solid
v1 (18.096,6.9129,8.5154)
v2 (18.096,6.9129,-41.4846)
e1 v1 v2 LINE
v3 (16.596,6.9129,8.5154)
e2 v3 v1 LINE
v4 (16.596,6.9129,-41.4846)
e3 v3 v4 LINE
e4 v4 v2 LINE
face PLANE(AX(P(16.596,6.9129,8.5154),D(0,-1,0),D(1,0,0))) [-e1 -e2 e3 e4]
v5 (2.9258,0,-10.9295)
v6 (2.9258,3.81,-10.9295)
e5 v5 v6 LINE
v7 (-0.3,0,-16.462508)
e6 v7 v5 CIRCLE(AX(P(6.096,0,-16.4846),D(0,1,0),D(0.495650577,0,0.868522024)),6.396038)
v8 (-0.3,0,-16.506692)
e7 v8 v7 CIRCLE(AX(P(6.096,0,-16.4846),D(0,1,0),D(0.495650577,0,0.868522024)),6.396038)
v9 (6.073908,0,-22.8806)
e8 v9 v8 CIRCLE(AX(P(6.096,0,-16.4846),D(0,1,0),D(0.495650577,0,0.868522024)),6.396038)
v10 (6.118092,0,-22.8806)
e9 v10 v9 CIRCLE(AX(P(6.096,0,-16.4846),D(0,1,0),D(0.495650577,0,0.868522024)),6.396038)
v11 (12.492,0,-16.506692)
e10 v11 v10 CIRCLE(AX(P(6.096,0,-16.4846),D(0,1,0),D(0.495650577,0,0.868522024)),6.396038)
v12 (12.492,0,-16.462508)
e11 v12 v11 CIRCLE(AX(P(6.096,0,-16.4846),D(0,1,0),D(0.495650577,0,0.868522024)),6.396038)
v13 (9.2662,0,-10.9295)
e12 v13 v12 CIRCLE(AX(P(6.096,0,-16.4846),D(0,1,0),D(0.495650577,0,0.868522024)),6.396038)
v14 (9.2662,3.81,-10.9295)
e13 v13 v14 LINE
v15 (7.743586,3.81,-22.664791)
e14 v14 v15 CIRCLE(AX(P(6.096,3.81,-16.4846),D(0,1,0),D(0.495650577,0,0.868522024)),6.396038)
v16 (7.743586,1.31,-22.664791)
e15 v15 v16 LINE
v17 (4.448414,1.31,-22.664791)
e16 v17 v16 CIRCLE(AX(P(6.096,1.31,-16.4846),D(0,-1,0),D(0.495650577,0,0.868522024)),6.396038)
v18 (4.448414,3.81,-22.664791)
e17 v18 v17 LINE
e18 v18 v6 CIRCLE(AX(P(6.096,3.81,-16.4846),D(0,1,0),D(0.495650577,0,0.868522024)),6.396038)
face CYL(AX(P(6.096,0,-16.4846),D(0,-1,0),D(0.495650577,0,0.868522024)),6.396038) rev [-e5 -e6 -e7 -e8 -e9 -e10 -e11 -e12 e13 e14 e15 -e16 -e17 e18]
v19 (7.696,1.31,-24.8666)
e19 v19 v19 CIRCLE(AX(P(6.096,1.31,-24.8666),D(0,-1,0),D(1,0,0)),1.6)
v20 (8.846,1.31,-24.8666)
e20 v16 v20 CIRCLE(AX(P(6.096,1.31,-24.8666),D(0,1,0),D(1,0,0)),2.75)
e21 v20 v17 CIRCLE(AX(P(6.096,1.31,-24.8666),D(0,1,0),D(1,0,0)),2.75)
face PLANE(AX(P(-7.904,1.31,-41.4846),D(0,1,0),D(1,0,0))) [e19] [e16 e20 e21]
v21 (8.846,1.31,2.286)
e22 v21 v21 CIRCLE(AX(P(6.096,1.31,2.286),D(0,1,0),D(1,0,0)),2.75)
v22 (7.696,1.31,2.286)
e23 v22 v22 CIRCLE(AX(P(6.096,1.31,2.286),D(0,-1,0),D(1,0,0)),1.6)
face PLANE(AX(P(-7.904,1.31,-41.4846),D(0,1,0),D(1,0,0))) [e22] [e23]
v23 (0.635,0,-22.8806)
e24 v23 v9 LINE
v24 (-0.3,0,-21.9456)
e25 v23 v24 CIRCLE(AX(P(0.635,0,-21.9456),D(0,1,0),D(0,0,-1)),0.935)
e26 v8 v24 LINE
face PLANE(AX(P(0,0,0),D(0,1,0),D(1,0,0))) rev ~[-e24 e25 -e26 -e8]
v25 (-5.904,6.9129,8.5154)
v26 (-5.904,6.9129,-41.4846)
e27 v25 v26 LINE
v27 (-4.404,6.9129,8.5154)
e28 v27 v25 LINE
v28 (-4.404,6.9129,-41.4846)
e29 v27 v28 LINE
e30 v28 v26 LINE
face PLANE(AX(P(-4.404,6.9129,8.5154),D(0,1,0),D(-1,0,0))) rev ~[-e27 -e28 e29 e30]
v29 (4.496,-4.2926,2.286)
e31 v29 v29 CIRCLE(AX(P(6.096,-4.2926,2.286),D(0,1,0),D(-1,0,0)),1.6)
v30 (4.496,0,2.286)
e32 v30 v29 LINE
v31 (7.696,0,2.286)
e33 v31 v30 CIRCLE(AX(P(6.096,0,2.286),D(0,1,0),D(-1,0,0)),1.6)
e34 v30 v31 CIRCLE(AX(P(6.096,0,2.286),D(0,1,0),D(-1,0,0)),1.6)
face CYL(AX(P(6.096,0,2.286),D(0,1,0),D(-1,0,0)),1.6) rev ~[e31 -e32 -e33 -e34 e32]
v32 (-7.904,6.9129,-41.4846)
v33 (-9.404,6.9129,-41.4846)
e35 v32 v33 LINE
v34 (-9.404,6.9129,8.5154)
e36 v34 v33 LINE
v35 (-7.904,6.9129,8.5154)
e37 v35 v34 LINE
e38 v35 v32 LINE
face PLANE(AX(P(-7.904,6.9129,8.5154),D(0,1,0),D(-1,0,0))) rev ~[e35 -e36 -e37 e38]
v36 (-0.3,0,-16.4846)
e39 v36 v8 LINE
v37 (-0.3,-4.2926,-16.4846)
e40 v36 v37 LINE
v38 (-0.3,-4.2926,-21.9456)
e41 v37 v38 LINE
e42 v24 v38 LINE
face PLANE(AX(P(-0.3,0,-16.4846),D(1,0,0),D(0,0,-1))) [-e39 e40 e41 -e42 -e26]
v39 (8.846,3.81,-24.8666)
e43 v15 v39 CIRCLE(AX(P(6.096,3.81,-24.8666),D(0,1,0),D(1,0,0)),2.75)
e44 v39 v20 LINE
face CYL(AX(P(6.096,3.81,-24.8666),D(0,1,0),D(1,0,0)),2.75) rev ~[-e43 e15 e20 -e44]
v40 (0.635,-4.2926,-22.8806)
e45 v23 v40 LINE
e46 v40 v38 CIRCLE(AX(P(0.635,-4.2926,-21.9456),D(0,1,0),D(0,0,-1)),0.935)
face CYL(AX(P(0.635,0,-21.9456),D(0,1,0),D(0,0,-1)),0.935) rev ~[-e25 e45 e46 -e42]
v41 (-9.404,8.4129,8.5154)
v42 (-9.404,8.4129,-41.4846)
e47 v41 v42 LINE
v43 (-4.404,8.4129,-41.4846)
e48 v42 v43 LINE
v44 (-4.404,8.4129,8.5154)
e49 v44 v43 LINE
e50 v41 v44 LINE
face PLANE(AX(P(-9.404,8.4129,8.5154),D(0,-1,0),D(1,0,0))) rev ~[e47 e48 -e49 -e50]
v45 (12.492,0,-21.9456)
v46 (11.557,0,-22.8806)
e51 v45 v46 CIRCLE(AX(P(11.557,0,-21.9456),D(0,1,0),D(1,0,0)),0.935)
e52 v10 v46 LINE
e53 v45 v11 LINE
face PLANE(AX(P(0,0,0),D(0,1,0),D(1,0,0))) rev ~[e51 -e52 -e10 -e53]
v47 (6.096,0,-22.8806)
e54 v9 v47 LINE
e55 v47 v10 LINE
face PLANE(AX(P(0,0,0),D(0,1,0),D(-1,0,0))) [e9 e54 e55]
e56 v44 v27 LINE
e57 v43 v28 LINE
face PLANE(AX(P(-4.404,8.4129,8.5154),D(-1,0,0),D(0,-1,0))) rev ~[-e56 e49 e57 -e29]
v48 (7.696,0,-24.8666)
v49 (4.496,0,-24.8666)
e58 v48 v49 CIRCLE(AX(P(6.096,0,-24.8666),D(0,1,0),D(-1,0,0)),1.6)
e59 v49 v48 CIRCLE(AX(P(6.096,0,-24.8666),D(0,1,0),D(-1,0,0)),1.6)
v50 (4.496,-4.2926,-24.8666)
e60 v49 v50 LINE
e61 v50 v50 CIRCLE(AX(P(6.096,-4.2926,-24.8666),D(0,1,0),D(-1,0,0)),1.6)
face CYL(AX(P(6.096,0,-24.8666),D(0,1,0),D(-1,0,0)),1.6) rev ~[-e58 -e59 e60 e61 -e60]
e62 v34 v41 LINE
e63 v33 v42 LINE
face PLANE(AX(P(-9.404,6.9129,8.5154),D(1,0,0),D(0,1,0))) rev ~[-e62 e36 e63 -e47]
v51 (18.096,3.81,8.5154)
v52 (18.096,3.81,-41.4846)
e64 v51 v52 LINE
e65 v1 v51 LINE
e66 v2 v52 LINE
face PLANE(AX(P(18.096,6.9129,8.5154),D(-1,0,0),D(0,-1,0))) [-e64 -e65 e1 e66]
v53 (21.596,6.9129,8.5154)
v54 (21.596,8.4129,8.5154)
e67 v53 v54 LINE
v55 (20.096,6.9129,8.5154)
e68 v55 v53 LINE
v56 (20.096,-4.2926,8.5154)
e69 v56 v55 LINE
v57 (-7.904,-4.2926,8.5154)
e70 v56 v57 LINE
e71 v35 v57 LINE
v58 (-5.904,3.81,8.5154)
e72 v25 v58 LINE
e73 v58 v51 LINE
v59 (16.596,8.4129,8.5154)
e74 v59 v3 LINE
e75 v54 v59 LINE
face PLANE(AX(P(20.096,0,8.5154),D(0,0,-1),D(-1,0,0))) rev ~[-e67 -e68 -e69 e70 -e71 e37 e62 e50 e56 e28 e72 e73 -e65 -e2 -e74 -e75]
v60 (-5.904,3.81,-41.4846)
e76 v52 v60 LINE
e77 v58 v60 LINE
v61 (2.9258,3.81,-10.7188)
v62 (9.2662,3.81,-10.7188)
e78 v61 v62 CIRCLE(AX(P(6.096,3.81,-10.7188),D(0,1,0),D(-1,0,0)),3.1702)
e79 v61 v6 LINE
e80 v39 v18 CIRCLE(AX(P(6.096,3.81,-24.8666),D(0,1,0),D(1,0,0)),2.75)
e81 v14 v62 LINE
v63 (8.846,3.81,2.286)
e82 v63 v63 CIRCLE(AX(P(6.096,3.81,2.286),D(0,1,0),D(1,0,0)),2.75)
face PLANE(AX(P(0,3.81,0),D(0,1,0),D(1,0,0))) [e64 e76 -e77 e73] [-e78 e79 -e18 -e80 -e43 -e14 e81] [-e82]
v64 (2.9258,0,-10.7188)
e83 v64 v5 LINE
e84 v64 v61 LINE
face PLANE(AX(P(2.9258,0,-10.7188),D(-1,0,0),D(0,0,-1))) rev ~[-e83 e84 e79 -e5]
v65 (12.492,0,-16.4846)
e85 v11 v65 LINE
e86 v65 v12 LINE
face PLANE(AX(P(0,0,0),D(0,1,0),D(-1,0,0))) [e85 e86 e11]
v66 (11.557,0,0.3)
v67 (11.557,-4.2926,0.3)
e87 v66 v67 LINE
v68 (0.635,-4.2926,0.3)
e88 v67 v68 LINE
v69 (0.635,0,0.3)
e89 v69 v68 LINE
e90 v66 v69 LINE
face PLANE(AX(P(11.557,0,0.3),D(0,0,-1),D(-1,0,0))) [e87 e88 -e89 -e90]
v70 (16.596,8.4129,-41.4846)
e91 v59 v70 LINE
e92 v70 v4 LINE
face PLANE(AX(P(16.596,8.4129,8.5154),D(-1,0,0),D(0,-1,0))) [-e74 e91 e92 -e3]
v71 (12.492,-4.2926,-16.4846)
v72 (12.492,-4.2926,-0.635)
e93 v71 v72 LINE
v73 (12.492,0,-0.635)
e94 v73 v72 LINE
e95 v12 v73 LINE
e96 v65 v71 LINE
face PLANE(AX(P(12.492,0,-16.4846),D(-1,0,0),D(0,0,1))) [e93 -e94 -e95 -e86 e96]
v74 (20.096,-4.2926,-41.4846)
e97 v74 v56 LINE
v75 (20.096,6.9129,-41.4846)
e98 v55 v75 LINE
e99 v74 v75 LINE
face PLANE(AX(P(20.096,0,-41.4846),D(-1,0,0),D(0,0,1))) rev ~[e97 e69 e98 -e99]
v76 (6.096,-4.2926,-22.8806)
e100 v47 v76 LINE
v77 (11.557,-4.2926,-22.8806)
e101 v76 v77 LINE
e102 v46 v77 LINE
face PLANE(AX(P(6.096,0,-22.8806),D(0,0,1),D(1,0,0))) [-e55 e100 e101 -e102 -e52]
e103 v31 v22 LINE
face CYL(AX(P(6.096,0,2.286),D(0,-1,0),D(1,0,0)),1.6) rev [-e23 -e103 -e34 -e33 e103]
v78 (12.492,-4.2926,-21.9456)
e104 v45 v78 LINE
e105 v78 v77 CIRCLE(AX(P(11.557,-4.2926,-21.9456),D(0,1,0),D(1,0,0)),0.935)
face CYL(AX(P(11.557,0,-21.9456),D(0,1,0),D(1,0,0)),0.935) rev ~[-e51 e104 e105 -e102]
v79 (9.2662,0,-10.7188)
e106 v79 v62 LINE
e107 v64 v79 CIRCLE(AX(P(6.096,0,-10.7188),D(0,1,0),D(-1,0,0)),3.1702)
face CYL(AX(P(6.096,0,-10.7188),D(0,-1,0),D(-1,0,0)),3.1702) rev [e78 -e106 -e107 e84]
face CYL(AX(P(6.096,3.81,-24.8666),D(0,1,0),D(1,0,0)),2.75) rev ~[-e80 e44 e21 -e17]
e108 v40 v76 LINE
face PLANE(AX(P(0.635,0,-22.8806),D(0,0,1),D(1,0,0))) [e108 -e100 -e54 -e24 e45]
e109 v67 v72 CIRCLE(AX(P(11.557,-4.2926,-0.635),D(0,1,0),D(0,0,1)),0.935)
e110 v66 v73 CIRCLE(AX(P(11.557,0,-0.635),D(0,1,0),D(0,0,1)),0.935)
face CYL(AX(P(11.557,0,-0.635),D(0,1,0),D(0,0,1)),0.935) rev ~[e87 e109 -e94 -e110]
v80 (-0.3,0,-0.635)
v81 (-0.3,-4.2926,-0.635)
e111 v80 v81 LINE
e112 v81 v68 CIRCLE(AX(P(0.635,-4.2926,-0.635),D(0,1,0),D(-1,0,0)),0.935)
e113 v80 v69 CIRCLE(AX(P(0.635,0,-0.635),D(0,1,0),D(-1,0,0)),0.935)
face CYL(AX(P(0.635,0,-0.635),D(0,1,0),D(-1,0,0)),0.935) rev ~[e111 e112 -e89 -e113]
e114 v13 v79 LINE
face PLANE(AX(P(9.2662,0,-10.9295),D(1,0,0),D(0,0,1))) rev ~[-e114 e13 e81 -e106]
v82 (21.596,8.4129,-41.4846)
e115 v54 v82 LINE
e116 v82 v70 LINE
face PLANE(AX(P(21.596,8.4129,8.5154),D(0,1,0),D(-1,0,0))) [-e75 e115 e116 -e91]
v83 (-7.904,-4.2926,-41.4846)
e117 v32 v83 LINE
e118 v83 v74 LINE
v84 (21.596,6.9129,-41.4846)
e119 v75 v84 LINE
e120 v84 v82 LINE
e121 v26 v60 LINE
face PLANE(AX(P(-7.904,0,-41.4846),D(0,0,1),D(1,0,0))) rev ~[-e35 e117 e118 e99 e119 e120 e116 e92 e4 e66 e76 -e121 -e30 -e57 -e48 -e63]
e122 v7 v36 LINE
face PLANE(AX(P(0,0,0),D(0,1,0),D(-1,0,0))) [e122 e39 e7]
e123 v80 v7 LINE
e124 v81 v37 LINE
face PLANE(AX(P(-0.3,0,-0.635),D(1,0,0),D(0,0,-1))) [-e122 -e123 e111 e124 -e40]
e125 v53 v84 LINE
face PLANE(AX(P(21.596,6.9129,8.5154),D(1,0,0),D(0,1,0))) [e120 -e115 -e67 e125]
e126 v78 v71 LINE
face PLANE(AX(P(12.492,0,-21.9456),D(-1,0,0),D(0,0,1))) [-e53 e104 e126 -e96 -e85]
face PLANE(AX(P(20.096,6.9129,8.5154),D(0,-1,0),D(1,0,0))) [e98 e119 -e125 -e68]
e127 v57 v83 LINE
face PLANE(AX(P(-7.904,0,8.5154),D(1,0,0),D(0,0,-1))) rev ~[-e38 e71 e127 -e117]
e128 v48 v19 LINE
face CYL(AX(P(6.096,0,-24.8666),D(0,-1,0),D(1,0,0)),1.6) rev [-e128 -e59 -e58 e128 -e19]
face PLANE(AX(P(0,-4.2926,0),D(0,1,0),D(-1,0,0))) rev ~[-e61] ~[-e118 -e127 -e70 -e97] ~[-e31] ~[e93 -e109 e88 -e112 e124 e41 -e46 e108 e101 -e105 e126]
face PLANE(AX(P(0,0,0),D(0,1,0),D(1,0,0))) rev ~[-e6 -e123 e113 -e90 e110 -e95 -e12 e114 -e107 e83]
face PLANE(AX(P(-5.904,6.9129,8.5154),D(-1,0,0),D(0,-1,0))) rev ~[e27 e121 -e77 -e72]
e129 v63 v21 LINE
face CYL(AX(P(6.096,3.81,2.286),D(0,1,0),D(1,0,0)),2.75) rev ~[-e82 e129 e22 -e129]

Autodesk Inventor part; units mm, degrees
ref_plane "YZ Plane" through (0, 0, 0) normal (1, 0, 0) x (0, 1, 0)
sketch "草圖1" plane through (0, 0, 0) normal (0, 1, 0) x (-1, 0, 0)
  line L0 (-11.557, 4.8514) -> (-6.731, 4.8514) construction
  arc A0 (-11.557, 4.8514) -> (-12.192, 4.2164) centre (-11.557, 4.2164) ccw construction
  line L1 (-12.192, 4.2164) -> (-12.192, -0.635) construction
  arc A1 (-11.557, 0) -> (-12.192, -0.635) centre (-11.557, -0.635) ccw construction
  line L2 (-11.557, 0) -> (-0.635, 0) construction
  arc A2 (0, -0.635) -> (-0.635, 0) centre (-0.635, -0.635) ccw construction
  line L3 (0, 4.2164) -> (0, -0.635) construction
  arc A3 (0, 4.2164) -> (-0.635, 4.8514) centre (-0.635, 4.2164) ccw construction
  line L4 (-5.461, 4.8514) -> (-0.635, 4.8514) construction
  line L5 (-5.461, 4.0821) -> (-5.461, 4.8514) construction
  arc A4 (-6.731, 4.0821) -> (-5.461, 4.0821) centre (-6.096, 2.286) ccw construction
  line L6 (-6.731, 4.8514) -> (-6.731, 4.0821) construction
  line L7 (-12.192, -26.797) -> (-12.192, -21.9456) construction
  arc A5 (-12.192, -26.797) -> (-11.557, -27.432) centre (-11.557, -26.797) ccw construction
  line L8 (-11.557, -27.432) -> (-6.731, -27.432) construction
  line L9 (-6.731, -27.432) -> (-6.731, -26.6627) construction
  arc A6 (-5.461, -26.6627) -> (-6.731, -26.6627) centre (-6.096, -24.8666) ccw construction
  line L10 (-5.461, -26.6627) -> (-5.461, -27.432) construction
  line L11 (-5.461, -27.432) -> (-0.635, -27.432) construction
  arc A7 (-0.635, -27.432) -> (0, -26.797) centre (-0.635, -26.797) ccw construction
  line L12 (0, -26.797) -> (0, -21.9456) construction
  arc A8 (-0.635, -22.5806) -> (0, -21.9456) centre (-0.635, -21.9456) ccw construction
  line L13 (-11.557, -22.5806) -> (-0.635, -22.5806) construction
  arc A9 (-12.192, -21.9456) -> (-11.557, -22.5806) centre (-11.557, -21.9456) ccw construction
  line L14 (-20.096, 8.5154) -> (7.904, 8.5154)
  line L15 (7.904, 8.5154) -> (7.904, -41.4846)
  line L16 (7.904, -41.4846) -> (-20.096, -41.4846)
  line L17 (-20.096, -41.4846) -> (-20.096, 8.5154)
  line L18 (-20.096, 8.5154) -> (7.904, -41.4846) construction
  line L19 (7.904, 8.5154) -> (-20.096, -41.4846) construction
  arc A10 (-3.2258, -10.7188) -> (-8.9662, -10.7188) centre (-6.096, -10.7188) ccw construction
  line L20 (-8.9662, -10.7188) -> (-8.9662, -11.1066) construction
  arc A11 (-8.9662, -11.1066) -> (-3.2258, -11.1066) centre (-6.096, -16.4846) ccw construction
  line L21 (-3.2258, -11.1066) -> (-3.2258, -10.7188) construction
  arc A12 (-7.0699, -18.6923) -> (-7.0447, -18.7033) centre (-6.096, -16.4846) ccw construction
  spline S0 degree 3 poles (-7.0947, -18.3987) (-7.1625, -18.5159) (-7.1542, -18.6137) (-7.0699, -18.6923) knots 0.499854 0.499854 0.499854 0.499854 0.500096 0.500096 0.500096 0.500096 construction
  arc A13 (-7.336, -18.252) -> (-7.0947, -18.3987) centre (-6.096, -16.4846) ccw construction
  spline S1 degree 3 poles (-7.6081, -18.365) (-7.4996, -18.4037) (-7.4089, -18.3661) (-7.336, -18.252) knots 0.499904 0.499904 0.499904 0.499904 0.500146 0.500146 0.500146 0.500146 construction
  arc A14 (-7.6294, -18.3477) -> (-7.6081, -18.365) centre (-6.096, -16.4846) ccw construction
  spline S2 degree 3 poles (-7.5741, -18.0583) (-7.671, -18.1528) (-7.6894, -18.2493) (-7.6294, -18.3477) knots 0.499854 0.499854 0.499854 0.499854 0.500096 0.500096 0.500096 0.500096 construction
  arc A15 (-7.7669, -17.8519) -> (-7.5741, -18.0583) centre (-6.096, -16.4846) ccw construction
  spline S3 degree 3 poles (-8.0594, -17.8873) (-7.9653, -17.9539) (-7.8678, -17.9421) (-7.7669, -17.8519) knots 0.499904 0.499904 0.499904 0.499904 0.500146 0.500146 0.500146 0.500146 construction
  arc A16 (-8.0752, -17.8649) -> (-8.0594, -17.8873) centre (-6.096, -16.4846) ccw construction
  spline S4 degree 3 poles (-7.9439, -17.6011) (-8.0627, -17.666) (-8.1064, -17.7539) (-8.0752, -17.8649) knots 0.499854 0.499854 0.499854 0.499854 0.500096 0.500096 0.500096 0.500096 construction
  arc A17 (-8.0738, -17.3504) -> (-7.9439, -17.6011) centre (-6.096, -16.4846) ccw construction
  spline S5 degree 3 poles (-8.365, -17.3056) (-8.2924, -17.3951) (-8.1953, -17.41) (-8.0738, -17.3504) knots 0.499904 0.499904 0.499904 0.499904 0.500146 0.500146 0.500146 0.500146 construction
  arc A18 (-8.3742, -17.2797) -> (-8.365, -17.3056) centre (-6.096, -16.4846) ccw construction
  spline S6 degree 3 poles (-8.1766, -17.0612) (-8.3085, -17.0916) (-8.3744, -17.1644) (-8.3742, -17.2797) knots 0.499854 0.499854 0.499854 0.499854 0.500096 0.500096 0.500096 0.500096 construction
  arc A19 (-8.234, -16.7847) -> (-8.1766, -17.0612) centre (-6.096, -16.4846) ccw construction
  spline S7 degree 3 poles (-8.5024, -16.663) (-8.4566, -16.7687) (-8.3671, -16.8093) (-8.234, -16.7847) knots 0.499904 0.499904 0.499904 0.499904 0.500146 0.500146 0.500146 0.500146 construction
  arc A20 (-8.5043, -16.6356) -> (-8.5024, -16.663) centre (-6.096, -16.4846) ccw construction
  spline S8 degree 3 poles (-8.255, -16.4785) (-8.3902, -16.4722) (-8.4733, -16.5245) (-8.5043, -16.6356) knots 0.499854 0.499854 0.499854 0.499854 0.500096 0.500096 0.500096 0.500096 construction
  arc A21 (-8.2357, -16.1967) -> (-8.255, -16.4785) centre (-6.096, -16.4846) ccw construction
  spline S9 degree 3 poles (-8.4613, -16.0071) (-8.4457, -16.1213) (-8.3705, -16.1845) (-8.2357, -16.1967) knots 0.499904 0.499904 0.499904 0.499904 0.500146 0.500146 0.500146 0.500146 construction
  arc A22 (-8.4557, -15.9802) -> (-8.4613, -16.0071) centre (-6.096, -16.4846) ccw construction
  spline S10 degree 3 poles (-8.1733, -15.8962) (-8.3018, -15.8537) (-8.3959, -15.8817) (-8.4557, -15.9802) knots 0.499854 0.499854 0.499854 0.499854 0.500096 0.500096 0.500096 0.500096 construction
  arc A23 (-8.0787, -15.6301) -> (-8.1733, -15.8962) centre (-6.096, -16.4846) ccw construction
  spline S11 degree 3 poles (-8.2448, -15.3867) (-8.2606, -15.5008) (-8.2052, -15.582) (-8.0787, -15.6301) knots 0.499904 0.499904 0.499904 0.499904 0.500146 0.500146 0.500146 0.500146 construction
  arc A24 (-8.2321, -15.3623) -> (-8.2448, -15.3867) centre (-6.096, -16.4846) ccw construction
  spline S12 degree 3 poles (-7.9375, -15.3576) (-8.0497, -15.282) (-8.148, -15.2835) (-8.2321, -15.3623) knots 0.499854 0.499854 0.499854 0.499854 0.500096 0.500096 0.500096 0.500096 construction
  arc A25 (-7.7746, -15.1269) -> (-7.9375, -15.3576) centre (-6.096, -16.4846) ccw construction
  spline S13 degree 3 poles (-7.8689, -14.8477) (-7.9149, -14.9533) (-7.8835, -15.0464) (-7.7746, -15.1269) knots 0.499904 0.499904 0.499904 0.499904 0.500146 0.500146 0.500146 0.500146 construction
  arc A26 (-7.8501, -14.8276) -> (-7.8689, -14.8477) centre (-6.096, -16.4846) ccw construction
  spline S14 degree 3 poles (-7.5651, -14.9025) (-7.6528, -14.7994) (-7.7478, -14.7745) (-7.8501, -14.8276) knots 0.499854 0.499854 0.499854 0.499854 0.500096 0.500096 0.500096 0.500096 construction
  arc A27 (-7.3461, -14.7243) -> (-7.5651, -14.9025) centre (-6.096, -16.4846) ccw construction
  spline S15 degree 3 poles (-7.3615, -14.4301) (-7.4343, -14.5194) (-7.4292, -14.6175) (-7.3461, -14.7243) knots 0.499904 0.499904 0.499904 0.499904 0.500146 0.500146 0.500146 0.500146 construction
  arc A28 (-7.338, -14.4158) -> (-7.3615, -14.4301) centre (-6.096, -16.4846) ccw construction
  spline S16 degree 3 poles (-7.0838, -14.5648) (-7.1404, -14.4419) (-7.2252, -14.3922) (-7.338, -14.4158) knots 0.499854 0.499854 0.499854 0.499854 0.500096 0.500096 0.500096 0.500096 construction
  arc A29 (-6.8248, -14.4523) -> (-7.0838, -14.5648) centre (-6.096, -16.4846) ccw construction
  spline S17 degree 3 poles (-6.7602, -14.1648) (-6.8545, -14.2312) (-6.876, -14.327) (-6.8248, -14.4523) knots 0.499904 0.499904 0.499904 0.499904 0.500146 0.500146 0.500146 0.500146 construction
  arc A30 (-6.7338, -14.1574) -> (-6.7602, -14.1648) centre (-6.096, -16.4846) ccw construction
  spline S18 degree 3 poles (-6.5292, -14.3695) (-6.5506, -14.2359) (-6.6188, -14.1652) (-6.7338, -14.1574) knots 0.499854 0.499854 0.499854 0.499854 0.500096 0.500096 0.500096 0.500096 construction
  arc A31 (-6.2495, -14.3311) -> (-6.5292, -14.3695) centre (-6.096, -16.4846) ccw construction
  spline S19 degree 3 poles (-6.1097, -14.0716) (-6.2184, -14.1101) (-6.265, -14.1966) (-6.2495, -14.3311) knots 0.499904 0.499904 0.499904 0.499904 0.500146 0.500146 0.500146 0.500146 construction
  arc A32 (-6.0823, -14.0716) -> (-6.1097, -14.0716) centre (-6.096, -16.4846) ccw construction
  spline S20 degree 3 poles (-5.9425, -14.3311) (-5.927, -14.1966) (-5.9736, -14.1101) (-6.0823, -14.0716) knots 0.499854 0.499854 0.499854 0.499854 0.500096 0.500096 0.500096 0.500096 construction
  arc A33 (-5.6628, -14.3695) -> (-5.9425, -14.3311) centre (-6.096, -16.4846) ccw construction
  spline S21 degree 3 poles (-5.4582, -14.1574) (-5.5732, -14.1652) (-5.6414, -14.2359) (-5.6628, -14.3695) knots 0.499904 0.499904 0.499904 0.499904 0.500146 0.500146 0.500146 0.500146 construction
  arc A34 (-5.4318, -14.1648) -> (-5.4582, -14.1574) centre (-6.096, -16.4846) ccw construction
  spline S22 degree 3 poles (-5.3672, -14.4523) (-5.316, -14.327) (-5.3375, -14.2312) (-5.4318, -14.1648) knots 0.499854 0.499854 0.499854 0.499854 0.500096 0.500096 0.500096 0.500096 construction
  arc A35 (-5.1082, -14.5648) -> (-5.3672, -14.4523) centre (-6.096, -16.4846) ccw construction
  spline S23 degree 3 poles (-4.854, -14.4158) (-4.9668, -14.3922) (-5.0516, -14.4419) (-5.1082, -14.5648) knots 0.499904 0.499904 0.499904 0.499904 0.500146 0.500146 0.500146 0.500146 construction
  arc A36 (-4.8305, -14.4301) -> (-4.854, -14.4158) centre (-6.096, -16.4846) ccw construction
  spline S24 degree 3 poles (-4.8459, -14.7243) (-4.7628, -14.6175) (-4.7577, -14.5194) (-4.8305, -14.4301) knots 0.499854 0.499854 0.499854 0.499854 0.500096 0.500096 0.500096 0.500096 construction
  arc A37 (-4.6269, -14.9025) -> (-4.8459, -14.7243) centre (-6.096, -16.4846) ccw construction
  spline S25 degree 3 poles (-4.3419, -14.8276) (-4.4442, -14.7745) (-4.5392, -14.7994) (-4.6269, -14.9025) knots 0.499904 0.499904 0.499904 0.499904 0.500146 0.500146 0.500146 0.500146 construction
  arc A38 (-4.3231, -14.8477) -> (-4.3419, -14.8276) centre (-6.096, -16.4846) ccw construction
  spline S26 degree 3 poles (-4.4174, -15.1269) (-4.3085, -15.0464) (-4.2771, -14.9533) (-4.3231, -14.8477) knots 0.499854 0.499854 0.499854 0.499854 0.500096 0.500096 0.500096 0.500096 construction
  arc A39 (-4.2545, -15.3576) -> (-4.4174, -15.1269) centre (-6.096, -16.4846) ccw construction
  spline S27 degree 3 poles (-3.9599, -15.3623) (-4.044, -15.2835) (-4.1423, -15.282) (-4.2545, -15.3576) knots 0.499904 0.499904 0.499904 0.499904 0.500146 0.500146 0.500146 0.500146 construction
  arc A40 (-3.9472, -15.3867) -> (-3.9599, -15.3623) centre (-6.096, -16.4846) ccw construction
  spline S28 degree 3 poles (-4.1133, -15.6301) (-3.9868, -15.582) (-3.9314, -15.5008) (-3.9472, -15.3867) knots 0.499854 0.499854 0.499854 0.499854 0.500096 0.500096 0.500096 0.500096 construction
  arc A41 (-4.0187, -15.8962) -> (-4.1133, -15.6301) centre (-6.096, -16.4846) ccw construction
  spline S29 degree 3 poles (-3.7363, -15.9802) (-3.7961, -15.8817) (-3.8902, -15.8537) (-4.0187, -15.8962) knots 0.499904 0.499904 0.499904 0.499904 0.500146 0.500146 0.500146 0.500146 construction
  arc A42 (-3.7307, -16.0071) -> (-3.7363, -15.9802) centre (-6.096, -16.4846) ccw construction
  spline S30 degree 3 poles (-3.9563, -16.1967) (-3.8215, -16.1845) (-3.7463, -16.1213) (-3.7307, -16.0071) knots 0.499854 0.499854 0.499854 0.499854 0.500096 0.500096 0.500096 0.500096 construction
  arc A43 (-3.937, -16.4785) -> (-3.9563, -16.1967) centre (-6.096, -16.4846) ccw construction
  spline S31 degree 3 poles (-3.6877, -16.6356) (-3.7187, -16.5245) (-3.8018, -16.4722) (-3.937, -16.4785) knots 0.499904 0.499904 0.499904 0.499904 0.500146 0.500146 0.500146 0.500146 construction
  arc A44 (-3.6896, -16.663) -> (-3.6877, -16.6356) centre (-6.096, -16.4846) ccw construction
  spline S32 degree 3 poles (-3.958, -16.7847) (-3.8249, -16.8093) (-3.7354, -16.7687) (-3.6896, -16.663) knots 0.499854 0.499854 0.499854 0.499854 0.500096 0.500096 0.500096 0.500096 construction
  arc A45 (-4.0154, -17.0612) -> (-3.958, -16.7847) centre (-6.096, -16.4846) ccw construction
  spline S33 degree 3 poles (-3.8178, -17.2797) (-3.8176, -17.1644) (-3.8835, -17.0916) (-4.0154, -17.0612) knots 0.499904 0.499904 0.499904 0.499904 0.500146 0.500146 0.500146 0.500146 construction
  arc A46 (-3.827, -17.3056) -> (-3.8178, -17.2797) centre (-6.096, -16.4846) ccw construction
  spline S34 degree 3 poles (-4.1182, -17.3504) (-3.9967, -17.41) (-3.8996, -17.3951) (-3.827, -17.3056) knots 0.499854 0.499854 0.499854 0.499854 0.500096 0.500096 0.500096 0.500096 construction
  arc A47 (-4.2481, -17.6011) -> (-4.1182, -17.3504) centre (-6.096, -16.4846) ccw construction
  spline S35 degree 3 poles (-4.1168, -17.8649) (-4.0856, -17.7539) (-4.1293, -17.666) (-4.2481, -17.6011) knots 0.499904 0.499904 0.499904 0.499904 0.500146 0.500146 0.500146 0.500146 construction
  arc A48 (-4.1326, -17.8873) -> (-4.1168, -17.8649) centre (-6.096, -16.4846) ccw construction
  spline S36 degree 3 poles (-4.4251, -17.8519) (-4.3242, -17.9421) (-4.2267, -17.9539) (-4.1326, -17.8873) knots 0.499854 0.499854 0.499854 0.499854 0.500096 0.500096 0.500096 0.500096 construction
  arc A49 (-4.6179, -18.0583) -> (-4.4251, -17.8519) centre (-6.096, -16.4846) ccw construction
  spline S37 degree 3 poles (-4.5626, -18.3477) (-4.5026, -18.2493) (-4.521, -18.1528) (-4.6179, -18.0583) knots 0.499904 0.499904 0.499904 0.499904 0.500146 0.500146 0.500146 0.500146 construction
  arc A50 (-4.5839, -18.365) -> (-4.5626, -18.3477) centre (-6.096, -16.4846) ccw construction
  spline S38 degree 3 poles (-4.856, -18.252) (-4.7831, -18.3661) (-4.6924, -18.4037) (-4.5839, -18.365) knots 0.499854 0.499854 0.499854 0.499854 0.500096 0.500096 0.500096 0.500096 construction
  arc A51 (-5.0973, -18.3987) -> (-4.856, -18.252) centre (-6.096, -16.4846) ccw construction
  spline S39 degree 3 poles (-5.1221, -18.6923) (-5.0378, -18.6137) (-5.0295, -18.5159) (-5.0973, -18.3987) knots 0.499904 0.499904 0.499904 0.499904 0.500146 0.500146 0.500146 0.500146 construction
  arc A52 (-5.1473, -18.7033) -> (-5.1221, -18.6923) centre (-6.096, -16.4846) ccw construction
  spline S40 degree 3 poles (-5.3788, -18.521) (-5.3394, -18.6505) (-5.2623, -18.7113) (-5.1473, -18.7033) knots 0.499854 0.499854 0.499854 0.499854 0.500096 0.500096 0.500096 0.500096 construction
  arc A53 (-5.6507, -18.5972) -> (-5.3788, -18.521) centre (-6.096, -16.4846) ccw construction
  spline S41 degree 3 poles (-5.7538, -18.8732) (-5.6514, -18.8203) (-5.6171, -18.7283) (-5.6507, -18.5972) knots 0.499904 0.499904 0.499904 0.499904 0.500146 0.500146 0.500146 0.500146 construction
  arc A54 (-5.781, -18.877) -> (-5.7538, -18.8732) centre (-6.096, -16.4846) ccw construction
  spline S42 degree 3 poles (-5.9548, -18.639) (-5.9518, -18.7743) (-5.8939, -18.8536) (-5.781, -18.877) knots 0.499854 0.499854 0.499854 0.499854 0.500096 0.500096 0.500096 0.500096 construction
  arc A55 (-6.2372, -18.639) -> (-5.9548, -18.639) centre (-6.096, -16.4846) ccw construction
  spline S43 degree 3 poles (-6.411, -18.877) (-6.2981, -18.8536) (-6.2402, -18.7743) (-6.2372, -18.639) knots 0.499904 0.499904 0.499904 0.499904 0.500146 0.500146 0.500146 0.500146 construction
  arc A56 (-6.4382, -18.8732) -> (-6.411, -18.877) centre (-6.096, -16.4846) ccw construction
  spline S44 degree 3 poles (-6.5413, -18.5972) (-6.5749, -18.7283) (-6.5406, -18.8203) (-6.4382, -18.8732) knots 0.499854 0.499854 0.499854 0.499854 0.500096 0.500096 0.500096 0.500096 construction
  arc A57 (-6.8132, -18.521) -> (-6.5413, -18.5972) centre (-6.096, -16.4846) ccw construction
  spline S45 degree 3 poles (-7.0447, -18.7033) (-6.9297, -18.7113) (-6.8526, -18.6505) (-6.8132, -18.521) knots 0.499904 0.499904 0.499904 0.499904 0.500146 0.500146 0.500146 0.500146 construction
  line L22 (0, -16.4846) -> (0, -0.635) construction
  arc A58 (0, -0.635) -> (-0.635, 0) centre (-0.635, -0.635) ccw construction
  line L23 (-0.635, 0) -> (-11.557, 0) construction
  arc A59 (-11.557, 0) -> (-12.192, -0.635) centre (-11.557, -0.635) ccw construction
  line L24 (-12.192, -0.635) -> (-12.192, -16.4846) construction
  arc A60 (-8.9662, -11.1066) -> (-12.192, -16.4846) centre (-6.096, -16.4846) ccw construction
  line L25 (-8.9662, -10.7188) -> (-8.9662, -11.1066) construction
  arc A61 (-3.2258, -10.7188) -> (-8.9662, -10.7188) centre (-6.096, -10.7188) ccw construction
  line L26 (-3.2258, -11.1066) -> (-3.2258, -10.7188) construction
  arc A62 (0, -16.4846) -> (-3.2258, -11.1066) centre (-6.096, -16.4846) ccw construction
  line L27 (-6.096, -22.5806) -> (-0.635, -22.5806) construction
  arc A63 (-0.635, -22.5806) -> (0, -21.9456) centre (-0.635, -21.9456) ccw construction
  line L28 (0, -21.9456) -> (0, -16.4846) construction
  arc A64 (-6.096, -22.5806) -> (0, -16.4846) centre (-6.096, -16.4846) ccw construction
  line L29 (-12.192, -16.4846) -> (-12.192, -21.9456) construction
  arc A65 (-12.192, -21.9456) -> (-11.557, -22.5806) centre (-11.557, -21.9456) ccw construction
  line L30 (-11.557, -22.5806) -> (-6.096, -22.5806) construction
  arc A66 (-12.192, -16.4846) -> (-6.096, -22.5806) centre (-6.096, -16.4846) ccw construction
  line L31 (0.3, -0.635) -> (0.3, -16.4846)
  line L32 (0.3, -16.4846) -> (0.3, -21.9456)
  arc A67 (-0.635, -22.8806) -> (0.3, -21.9456) centre (-0.635, -21.9456) ccw
  line L33 (-0.635, -22.8806) -> (-6.096, -22.8806)
  line L34 (-6.096, -22.8806) -> (-11.557, -22.8806)
  arc A68 (-12.492, -21.9456) -> (-11.557, -22.8806) centre (-11.557, -21.9456) ccw
  line L35 (-12.492, -21.9456) -> (-12.492, -16.4846)
  line L36 (-12.492, -16.4846) -> (-12.492, -0.635)
  arc A69 (-11.557, 0.3) -> (-12.492, -0.635) centre (-11.557, -0.635) ccw
  line L37 (-11.557, 0.3) -> (-0.635, 0.3)
  arc A70 (0.3, -0.635) -> (-0.635, 0.3) centre (-0.635, -0.635) ccw
  circle A71 centre (-6.096, 2.286) radius 1.6
  circle A72 centre (-6.096, -24.8666) radius 1.6
  point P0 (0, 0)
  dimension "d0" = 28
  dimension "d1" = 50
  dimension "d2" = 0.3
  dimension "d3" = 3.2
  dimension "d4" = 3.2
ref_plane "工作平面1" through (0, -4.2926, -0.635) normal (0, 1, 0) x (0, 0, 1)
extrude "擠出1" add sketch "草圖1" against normal up to surface (4.2926 mm away)
sketch "草圖2" plane through (0, 0, 0) normal (0, 1, 0) x (1, 0, 0)
  line L0 (20.096, 41.4846) -> (-7.904, 41.4846) projected
  line L1 (-7.904, 41.4846) -> (-7.904, -8.5154) projected
  line L2 (-7.904, -8.5154) -> (20.096, -8.5154) projected
  line L3 (20.096, -8.5154) -> (20.096, 41.4846) projected
  line L4 (11.557, -0.3) -> (0.635, -0.3) construction
  arc A0 (-0.3, 0.635) -> (0.635, -0.3) centre (0.635, 0.635) ccw construction
  line L5 (-0.3, 0.635) -> (-0.3, 21.9456) construction
  arc A1 (0.635, 22.8806) -> (-0.3, 21.9456) centre (0.635, 21.9456) ccw construction
  line L6 (0.635, 22.8806) -> (11.557, 22.8806) construction
  arc A2 (12.492, 21.9456) -> (11.557, 22.8806) centre (11.557, 21.9456) ccw construction
  line L7 (12.492, 21.9456) -> (12.492, 0.635) construction
  arc A3 (11.557, -0.3) -> (12.492, 0.635) centre (11.557, 0.635) ccw construction
  circle A4 centre (6.096, 24.8666) radius 1.6 projected
  circle A5 centre (6.096, -2.286) radius 1.6 projected
  arc A6 (3.2258, 10.7188) -> (8.9662, 10.7188) centre (6.096, 10.7188) ccw projected
  line L8 (8.9662, 10.7188) -> (8.9662, 11.1066) projected
  arc A7 (8.9662, 11.1066) -> (3.2258, 11.1066) centre (6.096, 16.4846) ccw projected
  line L9 (3.2258, 11.1066) -> (3.2258, 10.7188) projected
  arc A8 (7.0699, 18.6923) -> (7.0447, 18.7033) centre (6.096, 16.4846) ccw projected
  spline S0 degree 3 poles (7.0947, 18.3987) (7.1625, 18.5159) (7.1542, 18.6137) (7.0699, 18.6923) knots 0.499854 0.499854 0.499854 0.499854 0.500096 0.500096 0.500096 0.500096 projected
  arc A9 (7.336, 18.252) -> (7.0947, 18.3987) centre (6.096, 16.4846) ccw projected
  spline S1 degree 3 poles (7.6081, 18.365) (7.4996, 18.4037) (7.4089, 18.3661) (7.336, 18.252) knots 0.499904 0.499904 0.499904 0.499904 0.500146 0.500146 0.500146 0.500146 projected
  arc A10 (7.6294, 18.3477) -> (7.6081, 18.365) centre (6.096, 16.4846) ccw projected
  spline S2 degree 3 poles (7.5741, 18.0583) (7.671, 18.1528) (7.6894, 18.2493) (7.6294, 18.3477) knots 0.499854 0.499854 0.499854 0.499854 0.500096 0.500096 0.500096 0.500096 projected
  arc A11 (7.7669, 17.8519) -> (7.5741, 18.0583) centre (6.096, 16.4846) ccw projected
  spline S3 degree 3 poles (8.0594, 17.8873) (7.9653, 17.9539) (7.8678, 17.9421) (7.7669, 17.8519) knots 0.499904 0.499904 0.499904 0.499904 0.500146 0.500146 0.500146 0.500146 projected
  arc A12 (8.0752, 17.8649) -> (8.0594, 17.8873) centre (6.096, 16.4846) ccw projected
  spline S4 degree 3 poles (7.9439, 17.6011) (8.0627, 17.666) (8.1064, 17.7539) (8.0752, 17.8649) knots 0.499854 0.499854 0.499854 0.499854 0.500096 0.500096 0.500096 0.500096 projected
  arc A13 (8.0738, 17.3504) -> (7.9439, 17.6011) centre (6.096, 16.4846) ccw projected
  spline S5 degree 3 poles (8.365, 17.3056) (8.2924, 17.3951) (8.1953, 17.41) (8.0738, 17.3504) knots 0.499904 0.499904 0.499904 0.499904 0.500146 0.500146 0.500146 0.500146 projected
  arc A14 (8.3742, 17.2797) -> (8.365, 17.3056) centre (6.096, 16.4846) ccw projected
  spline S6 degree 3 poles (8.1766, 17.0612) (8.3085, 17.0916) (8.3744, 17.1644) (8.3742, 17.2797) knots 0.499854 0.499854 0.499854 0.499854 0.500096 0.500096 0.500096 0.500096 projected
  arc A15 (8.234, 16.7847) -> (8.1766, 17.0612) centre (6.096, 16.4846) ccw projected
  spline S7 degree 3 poles (8.5024, 16.663) (8.4566, 16.7687) (8.3671, 16.8093) (8.234, 16.7847) knots 0.499904 0.499904 0.499904 0.499904 0.500146 0.500146 0.500146 0.500146 projected
  arc A16 (8.5043, 16.6356) -> (8.5024, 16.663) centre (6.096, 16.4846) ccw projected
  spline S8 degree 3 poles (8.255, 16.4785) (8.3902, 16.4722) (8.4733, 16.5245) (8.5043, 16.6356) knots 0.499854 0.499854 0.499854 0.499854 0.500096 0.500096 0.500096 0.500096 projected
  arc A17 (8.2357, 16.1967) -> (8.255, 16.4785) centre (6.096, 16.4846) ccw projected
  spline S9 degree 3 poles (8.4613, 16.0071) (8.4457, 16.1213) (8.3705, 16.1845) (8.2357, 16.1967) knots 0.499904 0.499904 0.499904 0.499904 0.500146 0.500146 0.500146 0.500146 projected
  arc A18 (8.4557, 15.9802) -> (8.4613, 16.0071) centre (6.096, 16.4846) ccw projected
  spline S10 degree 3 poles (8.1733, 15.8962) (8.3018, 15.8537) (8.3959, 15.8817) (8.4557, 15.9802) knots 0.499854 0.499854 0.499854 0.499854 0.500096 0.500096 0.500096 0.500096 projected
  arc A19 (8.0787, 15.6301) -> (8.1733, 15.8962) centre (6.096, 16.4846) ccw projected
  spline S11 degree 3 poles (8.2448, 15.3867) (8.2606, 15.5008) (8.2052, 15.582) (8.0787, 15.6301) knots 0.499904 0.499904 0.499904 0.499904 0.500146 0.500146 0.500146 0.500146 projected
  arc A20 (8.2321, 15.3623) -> (8.2448, 15.3867) centre (6.096, 16.4846) ccw projected
  spline S12 degree 3 poles (7.9375, 15.3576) (8.0497, 15.282) (8.148, 15.2835) (8.2321, 15.3623) knots 0.499854 0.499854 0.499854 0.499854 0.500096 0.500096 0.500096 0.500096 projected
  arc A21 (7.7746, 15.1269) -> (7.9375, 15.3576) centre (6.096, 16.4846) ccw projected
  spline S13 degree 3 poles (7.8689, 14.8477) (7.9149, 14.9533) (7.8835, 15.0464) (7.7746, 15.1269) knots 0.499904 0.499904 0.499904 0.499904 0.500146 0.500146 0.500146 0.500146 projected
  arc A22 (7.8501, 14.8276) -> (7.8689, 14.8477) centre (6.096, 16.4846) ccw projected
  spline S14 degree 3 poles (7.5651, 14.9025) (7.6528, 14.7994) (7.7478, 14.7745) (7.8501, 14.8276) knots 0.499854 0.499854 0.499854 0.499854 0.500096 0.500096 0.500096 0.500096 projected
  arc A23 (7.3461, 14.7243) -> (7.5651, 14.9025) centre (6.096, 16.4846) ccw projected
  spline S15 degree 3 poles (7.3615, 14.4301) (7.4343, 14.5194) (7.4292, 14.6175) (7.3461, 14.7243) knots 0.499904 0.499904 0.499904 0.499904 0.500146 0.500146 0.500146 0.500146 projected
  arc A24 (7.338, 14.4158) -> (7.3615, 14.4301) centre (6.096, 16.4846) ccw projected
  spline S16 degree 3 poles (7.0838, 14.5648) (7.1404, 14.4419) (7.2252, 14.3922) (7.338, 14.4158) knots 0.499854 0.499854 0.499854 0.499854 0.500096 0.500096 0.500096 0.500096 projected
  arc A25 (6.8248, 14.4523) -> (7.0838, 14.5648) centre (6.096, 16.4846) ccw projected
  spline S17 degree 3 poles (6.7602, 14.1648) (6.8545, 14.2312) (6.876, 14.327) (6.8248, 14.4523) knots 0.499904 0.499904 0.499904 0.499904 0.500146 0.500146 0.500146 0.500146 projected
  arc A26 (6.7338, 14.1574) -> (6.7602, 14.1648) centre (6.096, 16.4846) ccw projected
  spline S18 degree 3 poles (6.5292, 14.3695) (6.5506, 14.2359) (6.6188, 14.1652) (6.7338, 14.1574) knots 0.499854 0.499854 0.499854 0.499854 0.500096 0.500096 0.500096 0.500096 projected
  arc A27 (6.2495, 14.3311) -> (6.5292, 14.3695) centre (6.096, 16.4846) ccw projected
  spline S19 degree 3 poles (6.1097, 14.0716) (6.2184, 14.1101) (6.265, 14.1966) (6.2495, 14.3311) knots 0.499904 0.499904 0.499904 0.499904 0.500146 0.500146 0.500146 0.500146 projected
  arc A28 (6.0823, 14.0716) -> (6.1097, 14.0716) centre (6.096, 16.4846) ccw projected
  spline S20 degree 3 poles (5.9425, 14.3311) (5.927, 14.1966) (5.9736, 14.1101) (6.0823, 14.0716) knots 0.499854 0.499854 0.499854 0.499854 0.500096 0.500096 0.500096 0.500096 projected
  arc A29 (5.6628, 14.3695) -> (5.9425, 14.3311) centre (6.096, 16.4846) ccw projected
  spline S21 degree 3 poles (5.4582, 14.1574) (5.5732, 14.1652) (5.6414, 14.2359) (5.6628, 14.3695) knots 0.499904 0.499904 0.499904 0.499904 0.500146 0.500146 0.500146 0.500146 projected
  arc A30 (5.4318, 14.1648) -> (5.4582, 14.1574) centre (6.096, 16.4846) ccw projected
  spline S22 degree 3 poles (5.3672, 14.4523) (5.316, 14.327) (5.3375, 14.2312) (5.4318, 14.1648) knots 0.499854 0.499854 0.499854 0.499854 0.500096 0.500096 0.500096 0.500096 projected
  arc A31 (5.1082, 14.5648) -> (5.3672, 14.4523) centre (6.096, 16.4846) ccw projected
  spline S23 degree 3 poles (4.854, 14.4158) (4.9668, 14.3922) (5.0516, 14.4419) (5.1082, 14.5648) knots 0.499904 0.499904 0.499904 0.499904 0.500146 0.500146 0.500146 0.500146 projected
  arc A32 (4.8305, 14.4301) -> (4.854, 14.4158) centre (6.096, 16.4846) ccw projected
  spline S24 degree 3 poles (4.8459, 14.7243) (4.7628, 14.6175) (4.7577, 14.5194) (4.8305, 14.4301) knots 0.499854 0.499854 0.499854 0.499854 0.500096 0.500096 0.500096 0.500096 projected
  arc A33 (4.6269, 14.9025) -> (4.8459, 14.7243) centre (6.096, 16.4846) ccw projected
  spline S25 degree 3 poles (4.3419, 14.8276) (4.4442, 14.7745) (4.5392, 14.7994) (4.6269, 14.9025) knots 0.499904 0.499904 0.499904 0.499904 0.500146 0.500146 0.500146 0.500146 projected
  arc A34 (4.3231, 14.8477) -> (4.3419, 14.8276) centre (6.096, 16.4846) ccw projected
  spline S26 degree 3 poles (4.4174, 15.1269) (4.3085, 15.0464) (4.2771, 14.9533) (4.3231, 14.8477) knots 0.499854 0.499854 0.499854 0.499854 0.500096 0.500096 0.500096 0.500096 projected
  arc A35 (4.2545, 15.3576) -> (4.4174, 15.1269) centre (6.096, 16.4846) ccw projected
  spline S27 degree 3 poles (3.9599, 15.3623) (4.044, 15.2835) (4.1423, 15.282) (4.2545, 15.3576) knots 0.499904 0.499904 0.499904 0.499904 0.500146 0.500146 0.500146 0.500146 projected
  arc A36 (3.9472, 15.3867) -> (3.9599, 15.3623) centre (6.096, 16.4846) ccw projected
  spline S28 degree 3 poles (4.1133, 15.6301) (3.9868, 15.582) (3.9314, 15.5008) (3.9472, 15.3867) knots 0.499854 0.499854 0.499854 0.499854 0.500096 0.500096 0.500096 0.500096 projected
  arc A37 (4.0187, 15.8962) -> (4.1133, 15.6301) centre (6.096, 16.4846) ccw projected
  spline S29 degree 3 poles (3.7363, 15.9802) (3.7961, 15.8817) (3.8902, 15.8537) (4.0187, 15.8962) knots 0.499904 0.499904 0.499904 0.499904 0.500146 0.500146 0.500146 0.500146 projected
  arc A38 (3.7307, 16.0071) -> (3.7363, 15.9802) centre (6.096, 16.4846) ccw projected
  spline S30 degree 3 poles (3.9563, 16.1967) (3.8215, 16.1845) (3.7463, 16.1213) (3.7307, 16.0071) knots 0.499854 0.499854 0.499854 0.499854 0.500096 0.500096 0.500096 0.500096 projected
  arc A39 (3.937, 16.4785) -> (3.9563, 16.1967) centre (6.096, 16.4846) ccw projected
  spline S31 degree 3 poles (3.6877, 16.6356) (3.7187, 16.5245) (3.8018, 16.4722) (3.937, 16.4785) knots 0.499904 0.499904 0.499904 0.499904 0.500146 0.500146 0.500146 0.500146 projected
  arc A40 (3.6896, 16.663) -> (3.6877, 16.6356) centre (6.096, 16.4846) ccw projected
  spline S32 degree 3 poles (3.958, 16.7847) (3.8249, 16.8093) (3.7354, 16.7687) (3.6896, 16.663) knots 0.499854 0.499854 0.499854 0.499854 0.500096 0.500096 0.500096 0.500096 projected
  arc A41 (4.0154, 17.0612) -> (3.958, 16.7847) centre (6.096, 16.4846) ccw projected
  spline S33 degree 3 poles (3.8178, 17.2797) (3.8176, 17.1644) (3.8835, 17.0916) (4.0154, 17.0612) knots 0.499904 0.499904 0.499904 0.499904 0.500146 0.500146 0.500146 0.500146 projected
  arc A42 (3.827, 17.3056) -> (3.8178, 17.2797) centre (6.096, 16.4846) ccw projected
  spline S34 degree 3 poles (4.1182, 17.3504) (3.9967, 17.41) (3.8996, 17.3951) (3.827, 17.3056) knots 0.499854 0.499854 0.499854 0.499854 0.500096 0.500096 0.500096 0.500096 projected
  arc A43 (4.2481, 17.6011) -> (4.1182, 17.3504) centre (6.096, 16.4846) ccw projected
  spline S35 degree 3 poles (4.1168, 17.8649) (4.0856, 17.7539) (4.1293, 17.666) (4.2481, 17.6011) knots 0.499904 0.499904 0.499904 0.499904 0.500146 0.500146 0.500146 0.500146 projected
  arc A44 (4.1326, 17.8873) -> (4.1168, 17.8649) centre (6.096, 16.4846) ccw projected
  spline S36 degree 3 poles (4.4251, 17.8519) (4.3242, 17.9421) (4.2267, 17.9539) (4.1326, 17.8873) knots 0.499854 0.499854 0.499854 0.499854 0.500096 0.500096 0.500096 0.500096 projected
  arc A45 (4.6179, 18.0583) -> (4.4251, 17.8519) centre (6.096, 16.4846) ccw projected
  spline S37 degree 3 poles (4.5626, 18.3477) (4.5026, 18.2493) (4.521, 18.1528) (4.6179, 18.0583) knots 0.499904 0.499904 0.499904 0.499904 0.500146 0.500146 0.500146 0.500146 projected
  arc A46 (4.5839, 18.365) -> (4.5626, 18.3477) centre (6.096, 16.4846) ccw projected
  spline S38 degree 3 poles (4.856, 18.252) (4.7831, 18.3661) (4.6924, 18.4037) (4.5839, 18.365) knots 0.499854 0.499854 0.499854 0.499854 0.500096 0.500096 0.500096 0.500096 projected
  arc A47 (5.0973, 18.3987) -> (4.856, 18.252) centre (6.096, 16.4846) ccw projected
  spline S39 degree 3 poles (5.1221, 18.6923) (5.0378, 18.6137) (5.0295, 18.5159) (5.0973, 18.3987) knots 0.499904 0.499904 0.499904 0.499904 0.500146 0.500146 0.500146 0.500146 projected
  arc A48 (5.1473, 18.7033) -> (5.1221, 18.6923) centre (6.096, 16.4846) ccw projected
  spline S40 degree 3 poles (5.3788, 18.521) (5.3394, 18.6505) (5.2623, 18.7113) (5.1473, 18.7033) knots 0.499854 0.499854 0.499854 0.499854 0.500096 0.500096 0.500096 0.500096 projected
  arc A49 (5.6507, 18.5972) -> (5.3788, 18.521) centre (6.096, 16.4846) ccw projected
  spline S41 degree 3 poles (5.7538, 18.8732) (5.6514, 18.8203) (5.6171, 18.7283) (5.6507, 18.5972) knots 0.499904 0.499904 0.499904 0.499904 0.500146 0.500146 0.500146 0.500146 projected
  arc A50 (5.781, 18.877) -> (5.7538, 18.8732) centre (6.096, 16.4846) ccw projected
  spline S42 degree 3 poles (5.9548, 18.639) (5.9518, 18.7743) (5.8939, 18.8536) (5.781, 18.877) knots 0.499854 0.499854 0.499854 0.499854 0.500096 0.500096 0.500096 0.500096 projected
  arc A51 (6.2372, 18.639) -> (5.9548, 18.639) centre (6.096, 16.4846) ccw projected
  spline S43 degree 3 poles (6.411, 18.877) (6.2981, 18.8536) (6.2402, 18.7743) (6.2372, 18.639) knots 0.499904 0.499904 0.499904 0.499904 0.500146 0.500146 0.500146 0.500146 projected
  arc A52 (6.4382, 18.8732) -> (6.411, 18.877) centre (6.096, 16.4846) ccw projected
  spline S44 degree 3 poles (6.5413, 18.5972) (6.5749, 18.7283) (6.5406, 18.8203) (6.4382, 18.8732) knots 0.499854 0.499854 0.499854 0.499854 0.500096 0.500096 0.500096 0.500096 projected
  arc A53 (6.8132, 18.521) -> (6.5413, 18.5972) centre (6.096, 16.4846) ccw projected
  spline S45 degree 3 poles (7.0447, 18.7033) (6.9297, 18.7113) (6.8526, 18.6505) (6.8132, 18.521) knots 0.499904 0.499904 0.499904 0.499904 0.500146 0.500146 0.500146 0.500146 projected
  arc A54 (9.2662, 10.9295) -> (2.9258, 10.9295) centre (6.096, 16.4846) ccw
  line L10 (9.2662, 10.9295) -> (9.2662, 10.7188)
  arc A55 (2.9258, 10.7188) -> (9.2662, 10.7188) centre (6.096, 10.7188) ccw
  line L11 (2.9258, 10.7188) -> (2.9258, 10.9295)
  point P0 (0, 0)
  dimension "d7" = 0.3
ref_plane "工作平面2" through (0, 3.81, -22.5806) normal (0, 1, 0) x (0, 0, 1)
extrude "擠出2" add sketch "草圖2" along normal up to surface (3.81 mm away) contours L3 L2 L1 L0
sketch "草圖3" plane through (-7.904, 3.81, -41.4846) normal (0, 1, 0) x (1, 0, 0)
  circle A0 centre (14, -43.7706) radius 1.6 projected
  circle A1 centre (14, -16.618) radius 1.6 projected
  circle A2 centre (14, -43.7706) radius 2.75
  circle A3 centre (14, -16.618) radius 2.75
  point P0 (7.904, -41.4846)
  dimension "d10" = 5.5
  dimension "d11" = 5.5
extrude "擠出3" cut sketch "草圖3" against normal blind 2.5 contours A0 | A1 | A2 | A3
sketch "草圖4" plane through (-7.904, -4.2926, 8.5154) normal (0, 0, 1) x (1, 0, 0)
  line L0 (28, 8.1026) -> (0, 8.1026) projected
  line L1 (0, 8.1026) -> (0, 11.2055)
  line L2 (0, 11.2055) -> (-1.5, 11.2055)
  line L3 (-1.5, 11.2055) -> (-1.5, 12.7055)
  line L4 (-1.5, 12.7055) -> (3.5, 12.7055)
  line L5 (3.5, 12.7055) -> (3.5, 11.2055)
  line L6 (3.5, 11.2055) -> (2, 11.2055)
  line L7 (2, 11.2055) -> (2, 8.1026)
  line L8 (0, 0) -> (0, 8.1026) projected
  line L9 (14, 8.1026) -> (14, 0)
  line L10 (0, 0) -> (28, 0) projected
  line L11 (28, 8.1026) -> (28, 11.2055)
  line L12 (28, 11.2055) -> (29.5, 11.2055)
  line L13 (29.5, 11.2055) -> (29.5, 12.7055)
  line L14 (29.5, 12.7055) -> (24.5, 12.7055)
  line L15 (24.5, 12.7055) -> (24.5, 11.2055)
  line L16 (24.5, 11.2055) -> (26, 11.2055)
  line L17 (26, 11.2055) -> (26, 8.1026)
  point P0 (7.904, 4.2926)
  point P1 (-0.75, 11.2055)
  point P2 (2.75, 11.2055)
  point P3 (28.75, 11.2055)
  point P4 (25.25, 11.2055)
  point P5 (26, 8.1026)
  point P6 (1, 12.7055)
  dimension "d18" = 2
  dimension "d19" = 1.5
  dimension "d20" = 1.5
  dimension "d21" = 1.5
  dimension "d22" = 1.5
extrude "擠出4" add sketch "草圖4" against normal up to surface (50 mm away) contours L0 L17 L16 L15 L14 L13 L12 L11 | L0 L1 L2 L3 L4 L5 L6 L7
properties part number "sg90 claw v2_3D 列印"
